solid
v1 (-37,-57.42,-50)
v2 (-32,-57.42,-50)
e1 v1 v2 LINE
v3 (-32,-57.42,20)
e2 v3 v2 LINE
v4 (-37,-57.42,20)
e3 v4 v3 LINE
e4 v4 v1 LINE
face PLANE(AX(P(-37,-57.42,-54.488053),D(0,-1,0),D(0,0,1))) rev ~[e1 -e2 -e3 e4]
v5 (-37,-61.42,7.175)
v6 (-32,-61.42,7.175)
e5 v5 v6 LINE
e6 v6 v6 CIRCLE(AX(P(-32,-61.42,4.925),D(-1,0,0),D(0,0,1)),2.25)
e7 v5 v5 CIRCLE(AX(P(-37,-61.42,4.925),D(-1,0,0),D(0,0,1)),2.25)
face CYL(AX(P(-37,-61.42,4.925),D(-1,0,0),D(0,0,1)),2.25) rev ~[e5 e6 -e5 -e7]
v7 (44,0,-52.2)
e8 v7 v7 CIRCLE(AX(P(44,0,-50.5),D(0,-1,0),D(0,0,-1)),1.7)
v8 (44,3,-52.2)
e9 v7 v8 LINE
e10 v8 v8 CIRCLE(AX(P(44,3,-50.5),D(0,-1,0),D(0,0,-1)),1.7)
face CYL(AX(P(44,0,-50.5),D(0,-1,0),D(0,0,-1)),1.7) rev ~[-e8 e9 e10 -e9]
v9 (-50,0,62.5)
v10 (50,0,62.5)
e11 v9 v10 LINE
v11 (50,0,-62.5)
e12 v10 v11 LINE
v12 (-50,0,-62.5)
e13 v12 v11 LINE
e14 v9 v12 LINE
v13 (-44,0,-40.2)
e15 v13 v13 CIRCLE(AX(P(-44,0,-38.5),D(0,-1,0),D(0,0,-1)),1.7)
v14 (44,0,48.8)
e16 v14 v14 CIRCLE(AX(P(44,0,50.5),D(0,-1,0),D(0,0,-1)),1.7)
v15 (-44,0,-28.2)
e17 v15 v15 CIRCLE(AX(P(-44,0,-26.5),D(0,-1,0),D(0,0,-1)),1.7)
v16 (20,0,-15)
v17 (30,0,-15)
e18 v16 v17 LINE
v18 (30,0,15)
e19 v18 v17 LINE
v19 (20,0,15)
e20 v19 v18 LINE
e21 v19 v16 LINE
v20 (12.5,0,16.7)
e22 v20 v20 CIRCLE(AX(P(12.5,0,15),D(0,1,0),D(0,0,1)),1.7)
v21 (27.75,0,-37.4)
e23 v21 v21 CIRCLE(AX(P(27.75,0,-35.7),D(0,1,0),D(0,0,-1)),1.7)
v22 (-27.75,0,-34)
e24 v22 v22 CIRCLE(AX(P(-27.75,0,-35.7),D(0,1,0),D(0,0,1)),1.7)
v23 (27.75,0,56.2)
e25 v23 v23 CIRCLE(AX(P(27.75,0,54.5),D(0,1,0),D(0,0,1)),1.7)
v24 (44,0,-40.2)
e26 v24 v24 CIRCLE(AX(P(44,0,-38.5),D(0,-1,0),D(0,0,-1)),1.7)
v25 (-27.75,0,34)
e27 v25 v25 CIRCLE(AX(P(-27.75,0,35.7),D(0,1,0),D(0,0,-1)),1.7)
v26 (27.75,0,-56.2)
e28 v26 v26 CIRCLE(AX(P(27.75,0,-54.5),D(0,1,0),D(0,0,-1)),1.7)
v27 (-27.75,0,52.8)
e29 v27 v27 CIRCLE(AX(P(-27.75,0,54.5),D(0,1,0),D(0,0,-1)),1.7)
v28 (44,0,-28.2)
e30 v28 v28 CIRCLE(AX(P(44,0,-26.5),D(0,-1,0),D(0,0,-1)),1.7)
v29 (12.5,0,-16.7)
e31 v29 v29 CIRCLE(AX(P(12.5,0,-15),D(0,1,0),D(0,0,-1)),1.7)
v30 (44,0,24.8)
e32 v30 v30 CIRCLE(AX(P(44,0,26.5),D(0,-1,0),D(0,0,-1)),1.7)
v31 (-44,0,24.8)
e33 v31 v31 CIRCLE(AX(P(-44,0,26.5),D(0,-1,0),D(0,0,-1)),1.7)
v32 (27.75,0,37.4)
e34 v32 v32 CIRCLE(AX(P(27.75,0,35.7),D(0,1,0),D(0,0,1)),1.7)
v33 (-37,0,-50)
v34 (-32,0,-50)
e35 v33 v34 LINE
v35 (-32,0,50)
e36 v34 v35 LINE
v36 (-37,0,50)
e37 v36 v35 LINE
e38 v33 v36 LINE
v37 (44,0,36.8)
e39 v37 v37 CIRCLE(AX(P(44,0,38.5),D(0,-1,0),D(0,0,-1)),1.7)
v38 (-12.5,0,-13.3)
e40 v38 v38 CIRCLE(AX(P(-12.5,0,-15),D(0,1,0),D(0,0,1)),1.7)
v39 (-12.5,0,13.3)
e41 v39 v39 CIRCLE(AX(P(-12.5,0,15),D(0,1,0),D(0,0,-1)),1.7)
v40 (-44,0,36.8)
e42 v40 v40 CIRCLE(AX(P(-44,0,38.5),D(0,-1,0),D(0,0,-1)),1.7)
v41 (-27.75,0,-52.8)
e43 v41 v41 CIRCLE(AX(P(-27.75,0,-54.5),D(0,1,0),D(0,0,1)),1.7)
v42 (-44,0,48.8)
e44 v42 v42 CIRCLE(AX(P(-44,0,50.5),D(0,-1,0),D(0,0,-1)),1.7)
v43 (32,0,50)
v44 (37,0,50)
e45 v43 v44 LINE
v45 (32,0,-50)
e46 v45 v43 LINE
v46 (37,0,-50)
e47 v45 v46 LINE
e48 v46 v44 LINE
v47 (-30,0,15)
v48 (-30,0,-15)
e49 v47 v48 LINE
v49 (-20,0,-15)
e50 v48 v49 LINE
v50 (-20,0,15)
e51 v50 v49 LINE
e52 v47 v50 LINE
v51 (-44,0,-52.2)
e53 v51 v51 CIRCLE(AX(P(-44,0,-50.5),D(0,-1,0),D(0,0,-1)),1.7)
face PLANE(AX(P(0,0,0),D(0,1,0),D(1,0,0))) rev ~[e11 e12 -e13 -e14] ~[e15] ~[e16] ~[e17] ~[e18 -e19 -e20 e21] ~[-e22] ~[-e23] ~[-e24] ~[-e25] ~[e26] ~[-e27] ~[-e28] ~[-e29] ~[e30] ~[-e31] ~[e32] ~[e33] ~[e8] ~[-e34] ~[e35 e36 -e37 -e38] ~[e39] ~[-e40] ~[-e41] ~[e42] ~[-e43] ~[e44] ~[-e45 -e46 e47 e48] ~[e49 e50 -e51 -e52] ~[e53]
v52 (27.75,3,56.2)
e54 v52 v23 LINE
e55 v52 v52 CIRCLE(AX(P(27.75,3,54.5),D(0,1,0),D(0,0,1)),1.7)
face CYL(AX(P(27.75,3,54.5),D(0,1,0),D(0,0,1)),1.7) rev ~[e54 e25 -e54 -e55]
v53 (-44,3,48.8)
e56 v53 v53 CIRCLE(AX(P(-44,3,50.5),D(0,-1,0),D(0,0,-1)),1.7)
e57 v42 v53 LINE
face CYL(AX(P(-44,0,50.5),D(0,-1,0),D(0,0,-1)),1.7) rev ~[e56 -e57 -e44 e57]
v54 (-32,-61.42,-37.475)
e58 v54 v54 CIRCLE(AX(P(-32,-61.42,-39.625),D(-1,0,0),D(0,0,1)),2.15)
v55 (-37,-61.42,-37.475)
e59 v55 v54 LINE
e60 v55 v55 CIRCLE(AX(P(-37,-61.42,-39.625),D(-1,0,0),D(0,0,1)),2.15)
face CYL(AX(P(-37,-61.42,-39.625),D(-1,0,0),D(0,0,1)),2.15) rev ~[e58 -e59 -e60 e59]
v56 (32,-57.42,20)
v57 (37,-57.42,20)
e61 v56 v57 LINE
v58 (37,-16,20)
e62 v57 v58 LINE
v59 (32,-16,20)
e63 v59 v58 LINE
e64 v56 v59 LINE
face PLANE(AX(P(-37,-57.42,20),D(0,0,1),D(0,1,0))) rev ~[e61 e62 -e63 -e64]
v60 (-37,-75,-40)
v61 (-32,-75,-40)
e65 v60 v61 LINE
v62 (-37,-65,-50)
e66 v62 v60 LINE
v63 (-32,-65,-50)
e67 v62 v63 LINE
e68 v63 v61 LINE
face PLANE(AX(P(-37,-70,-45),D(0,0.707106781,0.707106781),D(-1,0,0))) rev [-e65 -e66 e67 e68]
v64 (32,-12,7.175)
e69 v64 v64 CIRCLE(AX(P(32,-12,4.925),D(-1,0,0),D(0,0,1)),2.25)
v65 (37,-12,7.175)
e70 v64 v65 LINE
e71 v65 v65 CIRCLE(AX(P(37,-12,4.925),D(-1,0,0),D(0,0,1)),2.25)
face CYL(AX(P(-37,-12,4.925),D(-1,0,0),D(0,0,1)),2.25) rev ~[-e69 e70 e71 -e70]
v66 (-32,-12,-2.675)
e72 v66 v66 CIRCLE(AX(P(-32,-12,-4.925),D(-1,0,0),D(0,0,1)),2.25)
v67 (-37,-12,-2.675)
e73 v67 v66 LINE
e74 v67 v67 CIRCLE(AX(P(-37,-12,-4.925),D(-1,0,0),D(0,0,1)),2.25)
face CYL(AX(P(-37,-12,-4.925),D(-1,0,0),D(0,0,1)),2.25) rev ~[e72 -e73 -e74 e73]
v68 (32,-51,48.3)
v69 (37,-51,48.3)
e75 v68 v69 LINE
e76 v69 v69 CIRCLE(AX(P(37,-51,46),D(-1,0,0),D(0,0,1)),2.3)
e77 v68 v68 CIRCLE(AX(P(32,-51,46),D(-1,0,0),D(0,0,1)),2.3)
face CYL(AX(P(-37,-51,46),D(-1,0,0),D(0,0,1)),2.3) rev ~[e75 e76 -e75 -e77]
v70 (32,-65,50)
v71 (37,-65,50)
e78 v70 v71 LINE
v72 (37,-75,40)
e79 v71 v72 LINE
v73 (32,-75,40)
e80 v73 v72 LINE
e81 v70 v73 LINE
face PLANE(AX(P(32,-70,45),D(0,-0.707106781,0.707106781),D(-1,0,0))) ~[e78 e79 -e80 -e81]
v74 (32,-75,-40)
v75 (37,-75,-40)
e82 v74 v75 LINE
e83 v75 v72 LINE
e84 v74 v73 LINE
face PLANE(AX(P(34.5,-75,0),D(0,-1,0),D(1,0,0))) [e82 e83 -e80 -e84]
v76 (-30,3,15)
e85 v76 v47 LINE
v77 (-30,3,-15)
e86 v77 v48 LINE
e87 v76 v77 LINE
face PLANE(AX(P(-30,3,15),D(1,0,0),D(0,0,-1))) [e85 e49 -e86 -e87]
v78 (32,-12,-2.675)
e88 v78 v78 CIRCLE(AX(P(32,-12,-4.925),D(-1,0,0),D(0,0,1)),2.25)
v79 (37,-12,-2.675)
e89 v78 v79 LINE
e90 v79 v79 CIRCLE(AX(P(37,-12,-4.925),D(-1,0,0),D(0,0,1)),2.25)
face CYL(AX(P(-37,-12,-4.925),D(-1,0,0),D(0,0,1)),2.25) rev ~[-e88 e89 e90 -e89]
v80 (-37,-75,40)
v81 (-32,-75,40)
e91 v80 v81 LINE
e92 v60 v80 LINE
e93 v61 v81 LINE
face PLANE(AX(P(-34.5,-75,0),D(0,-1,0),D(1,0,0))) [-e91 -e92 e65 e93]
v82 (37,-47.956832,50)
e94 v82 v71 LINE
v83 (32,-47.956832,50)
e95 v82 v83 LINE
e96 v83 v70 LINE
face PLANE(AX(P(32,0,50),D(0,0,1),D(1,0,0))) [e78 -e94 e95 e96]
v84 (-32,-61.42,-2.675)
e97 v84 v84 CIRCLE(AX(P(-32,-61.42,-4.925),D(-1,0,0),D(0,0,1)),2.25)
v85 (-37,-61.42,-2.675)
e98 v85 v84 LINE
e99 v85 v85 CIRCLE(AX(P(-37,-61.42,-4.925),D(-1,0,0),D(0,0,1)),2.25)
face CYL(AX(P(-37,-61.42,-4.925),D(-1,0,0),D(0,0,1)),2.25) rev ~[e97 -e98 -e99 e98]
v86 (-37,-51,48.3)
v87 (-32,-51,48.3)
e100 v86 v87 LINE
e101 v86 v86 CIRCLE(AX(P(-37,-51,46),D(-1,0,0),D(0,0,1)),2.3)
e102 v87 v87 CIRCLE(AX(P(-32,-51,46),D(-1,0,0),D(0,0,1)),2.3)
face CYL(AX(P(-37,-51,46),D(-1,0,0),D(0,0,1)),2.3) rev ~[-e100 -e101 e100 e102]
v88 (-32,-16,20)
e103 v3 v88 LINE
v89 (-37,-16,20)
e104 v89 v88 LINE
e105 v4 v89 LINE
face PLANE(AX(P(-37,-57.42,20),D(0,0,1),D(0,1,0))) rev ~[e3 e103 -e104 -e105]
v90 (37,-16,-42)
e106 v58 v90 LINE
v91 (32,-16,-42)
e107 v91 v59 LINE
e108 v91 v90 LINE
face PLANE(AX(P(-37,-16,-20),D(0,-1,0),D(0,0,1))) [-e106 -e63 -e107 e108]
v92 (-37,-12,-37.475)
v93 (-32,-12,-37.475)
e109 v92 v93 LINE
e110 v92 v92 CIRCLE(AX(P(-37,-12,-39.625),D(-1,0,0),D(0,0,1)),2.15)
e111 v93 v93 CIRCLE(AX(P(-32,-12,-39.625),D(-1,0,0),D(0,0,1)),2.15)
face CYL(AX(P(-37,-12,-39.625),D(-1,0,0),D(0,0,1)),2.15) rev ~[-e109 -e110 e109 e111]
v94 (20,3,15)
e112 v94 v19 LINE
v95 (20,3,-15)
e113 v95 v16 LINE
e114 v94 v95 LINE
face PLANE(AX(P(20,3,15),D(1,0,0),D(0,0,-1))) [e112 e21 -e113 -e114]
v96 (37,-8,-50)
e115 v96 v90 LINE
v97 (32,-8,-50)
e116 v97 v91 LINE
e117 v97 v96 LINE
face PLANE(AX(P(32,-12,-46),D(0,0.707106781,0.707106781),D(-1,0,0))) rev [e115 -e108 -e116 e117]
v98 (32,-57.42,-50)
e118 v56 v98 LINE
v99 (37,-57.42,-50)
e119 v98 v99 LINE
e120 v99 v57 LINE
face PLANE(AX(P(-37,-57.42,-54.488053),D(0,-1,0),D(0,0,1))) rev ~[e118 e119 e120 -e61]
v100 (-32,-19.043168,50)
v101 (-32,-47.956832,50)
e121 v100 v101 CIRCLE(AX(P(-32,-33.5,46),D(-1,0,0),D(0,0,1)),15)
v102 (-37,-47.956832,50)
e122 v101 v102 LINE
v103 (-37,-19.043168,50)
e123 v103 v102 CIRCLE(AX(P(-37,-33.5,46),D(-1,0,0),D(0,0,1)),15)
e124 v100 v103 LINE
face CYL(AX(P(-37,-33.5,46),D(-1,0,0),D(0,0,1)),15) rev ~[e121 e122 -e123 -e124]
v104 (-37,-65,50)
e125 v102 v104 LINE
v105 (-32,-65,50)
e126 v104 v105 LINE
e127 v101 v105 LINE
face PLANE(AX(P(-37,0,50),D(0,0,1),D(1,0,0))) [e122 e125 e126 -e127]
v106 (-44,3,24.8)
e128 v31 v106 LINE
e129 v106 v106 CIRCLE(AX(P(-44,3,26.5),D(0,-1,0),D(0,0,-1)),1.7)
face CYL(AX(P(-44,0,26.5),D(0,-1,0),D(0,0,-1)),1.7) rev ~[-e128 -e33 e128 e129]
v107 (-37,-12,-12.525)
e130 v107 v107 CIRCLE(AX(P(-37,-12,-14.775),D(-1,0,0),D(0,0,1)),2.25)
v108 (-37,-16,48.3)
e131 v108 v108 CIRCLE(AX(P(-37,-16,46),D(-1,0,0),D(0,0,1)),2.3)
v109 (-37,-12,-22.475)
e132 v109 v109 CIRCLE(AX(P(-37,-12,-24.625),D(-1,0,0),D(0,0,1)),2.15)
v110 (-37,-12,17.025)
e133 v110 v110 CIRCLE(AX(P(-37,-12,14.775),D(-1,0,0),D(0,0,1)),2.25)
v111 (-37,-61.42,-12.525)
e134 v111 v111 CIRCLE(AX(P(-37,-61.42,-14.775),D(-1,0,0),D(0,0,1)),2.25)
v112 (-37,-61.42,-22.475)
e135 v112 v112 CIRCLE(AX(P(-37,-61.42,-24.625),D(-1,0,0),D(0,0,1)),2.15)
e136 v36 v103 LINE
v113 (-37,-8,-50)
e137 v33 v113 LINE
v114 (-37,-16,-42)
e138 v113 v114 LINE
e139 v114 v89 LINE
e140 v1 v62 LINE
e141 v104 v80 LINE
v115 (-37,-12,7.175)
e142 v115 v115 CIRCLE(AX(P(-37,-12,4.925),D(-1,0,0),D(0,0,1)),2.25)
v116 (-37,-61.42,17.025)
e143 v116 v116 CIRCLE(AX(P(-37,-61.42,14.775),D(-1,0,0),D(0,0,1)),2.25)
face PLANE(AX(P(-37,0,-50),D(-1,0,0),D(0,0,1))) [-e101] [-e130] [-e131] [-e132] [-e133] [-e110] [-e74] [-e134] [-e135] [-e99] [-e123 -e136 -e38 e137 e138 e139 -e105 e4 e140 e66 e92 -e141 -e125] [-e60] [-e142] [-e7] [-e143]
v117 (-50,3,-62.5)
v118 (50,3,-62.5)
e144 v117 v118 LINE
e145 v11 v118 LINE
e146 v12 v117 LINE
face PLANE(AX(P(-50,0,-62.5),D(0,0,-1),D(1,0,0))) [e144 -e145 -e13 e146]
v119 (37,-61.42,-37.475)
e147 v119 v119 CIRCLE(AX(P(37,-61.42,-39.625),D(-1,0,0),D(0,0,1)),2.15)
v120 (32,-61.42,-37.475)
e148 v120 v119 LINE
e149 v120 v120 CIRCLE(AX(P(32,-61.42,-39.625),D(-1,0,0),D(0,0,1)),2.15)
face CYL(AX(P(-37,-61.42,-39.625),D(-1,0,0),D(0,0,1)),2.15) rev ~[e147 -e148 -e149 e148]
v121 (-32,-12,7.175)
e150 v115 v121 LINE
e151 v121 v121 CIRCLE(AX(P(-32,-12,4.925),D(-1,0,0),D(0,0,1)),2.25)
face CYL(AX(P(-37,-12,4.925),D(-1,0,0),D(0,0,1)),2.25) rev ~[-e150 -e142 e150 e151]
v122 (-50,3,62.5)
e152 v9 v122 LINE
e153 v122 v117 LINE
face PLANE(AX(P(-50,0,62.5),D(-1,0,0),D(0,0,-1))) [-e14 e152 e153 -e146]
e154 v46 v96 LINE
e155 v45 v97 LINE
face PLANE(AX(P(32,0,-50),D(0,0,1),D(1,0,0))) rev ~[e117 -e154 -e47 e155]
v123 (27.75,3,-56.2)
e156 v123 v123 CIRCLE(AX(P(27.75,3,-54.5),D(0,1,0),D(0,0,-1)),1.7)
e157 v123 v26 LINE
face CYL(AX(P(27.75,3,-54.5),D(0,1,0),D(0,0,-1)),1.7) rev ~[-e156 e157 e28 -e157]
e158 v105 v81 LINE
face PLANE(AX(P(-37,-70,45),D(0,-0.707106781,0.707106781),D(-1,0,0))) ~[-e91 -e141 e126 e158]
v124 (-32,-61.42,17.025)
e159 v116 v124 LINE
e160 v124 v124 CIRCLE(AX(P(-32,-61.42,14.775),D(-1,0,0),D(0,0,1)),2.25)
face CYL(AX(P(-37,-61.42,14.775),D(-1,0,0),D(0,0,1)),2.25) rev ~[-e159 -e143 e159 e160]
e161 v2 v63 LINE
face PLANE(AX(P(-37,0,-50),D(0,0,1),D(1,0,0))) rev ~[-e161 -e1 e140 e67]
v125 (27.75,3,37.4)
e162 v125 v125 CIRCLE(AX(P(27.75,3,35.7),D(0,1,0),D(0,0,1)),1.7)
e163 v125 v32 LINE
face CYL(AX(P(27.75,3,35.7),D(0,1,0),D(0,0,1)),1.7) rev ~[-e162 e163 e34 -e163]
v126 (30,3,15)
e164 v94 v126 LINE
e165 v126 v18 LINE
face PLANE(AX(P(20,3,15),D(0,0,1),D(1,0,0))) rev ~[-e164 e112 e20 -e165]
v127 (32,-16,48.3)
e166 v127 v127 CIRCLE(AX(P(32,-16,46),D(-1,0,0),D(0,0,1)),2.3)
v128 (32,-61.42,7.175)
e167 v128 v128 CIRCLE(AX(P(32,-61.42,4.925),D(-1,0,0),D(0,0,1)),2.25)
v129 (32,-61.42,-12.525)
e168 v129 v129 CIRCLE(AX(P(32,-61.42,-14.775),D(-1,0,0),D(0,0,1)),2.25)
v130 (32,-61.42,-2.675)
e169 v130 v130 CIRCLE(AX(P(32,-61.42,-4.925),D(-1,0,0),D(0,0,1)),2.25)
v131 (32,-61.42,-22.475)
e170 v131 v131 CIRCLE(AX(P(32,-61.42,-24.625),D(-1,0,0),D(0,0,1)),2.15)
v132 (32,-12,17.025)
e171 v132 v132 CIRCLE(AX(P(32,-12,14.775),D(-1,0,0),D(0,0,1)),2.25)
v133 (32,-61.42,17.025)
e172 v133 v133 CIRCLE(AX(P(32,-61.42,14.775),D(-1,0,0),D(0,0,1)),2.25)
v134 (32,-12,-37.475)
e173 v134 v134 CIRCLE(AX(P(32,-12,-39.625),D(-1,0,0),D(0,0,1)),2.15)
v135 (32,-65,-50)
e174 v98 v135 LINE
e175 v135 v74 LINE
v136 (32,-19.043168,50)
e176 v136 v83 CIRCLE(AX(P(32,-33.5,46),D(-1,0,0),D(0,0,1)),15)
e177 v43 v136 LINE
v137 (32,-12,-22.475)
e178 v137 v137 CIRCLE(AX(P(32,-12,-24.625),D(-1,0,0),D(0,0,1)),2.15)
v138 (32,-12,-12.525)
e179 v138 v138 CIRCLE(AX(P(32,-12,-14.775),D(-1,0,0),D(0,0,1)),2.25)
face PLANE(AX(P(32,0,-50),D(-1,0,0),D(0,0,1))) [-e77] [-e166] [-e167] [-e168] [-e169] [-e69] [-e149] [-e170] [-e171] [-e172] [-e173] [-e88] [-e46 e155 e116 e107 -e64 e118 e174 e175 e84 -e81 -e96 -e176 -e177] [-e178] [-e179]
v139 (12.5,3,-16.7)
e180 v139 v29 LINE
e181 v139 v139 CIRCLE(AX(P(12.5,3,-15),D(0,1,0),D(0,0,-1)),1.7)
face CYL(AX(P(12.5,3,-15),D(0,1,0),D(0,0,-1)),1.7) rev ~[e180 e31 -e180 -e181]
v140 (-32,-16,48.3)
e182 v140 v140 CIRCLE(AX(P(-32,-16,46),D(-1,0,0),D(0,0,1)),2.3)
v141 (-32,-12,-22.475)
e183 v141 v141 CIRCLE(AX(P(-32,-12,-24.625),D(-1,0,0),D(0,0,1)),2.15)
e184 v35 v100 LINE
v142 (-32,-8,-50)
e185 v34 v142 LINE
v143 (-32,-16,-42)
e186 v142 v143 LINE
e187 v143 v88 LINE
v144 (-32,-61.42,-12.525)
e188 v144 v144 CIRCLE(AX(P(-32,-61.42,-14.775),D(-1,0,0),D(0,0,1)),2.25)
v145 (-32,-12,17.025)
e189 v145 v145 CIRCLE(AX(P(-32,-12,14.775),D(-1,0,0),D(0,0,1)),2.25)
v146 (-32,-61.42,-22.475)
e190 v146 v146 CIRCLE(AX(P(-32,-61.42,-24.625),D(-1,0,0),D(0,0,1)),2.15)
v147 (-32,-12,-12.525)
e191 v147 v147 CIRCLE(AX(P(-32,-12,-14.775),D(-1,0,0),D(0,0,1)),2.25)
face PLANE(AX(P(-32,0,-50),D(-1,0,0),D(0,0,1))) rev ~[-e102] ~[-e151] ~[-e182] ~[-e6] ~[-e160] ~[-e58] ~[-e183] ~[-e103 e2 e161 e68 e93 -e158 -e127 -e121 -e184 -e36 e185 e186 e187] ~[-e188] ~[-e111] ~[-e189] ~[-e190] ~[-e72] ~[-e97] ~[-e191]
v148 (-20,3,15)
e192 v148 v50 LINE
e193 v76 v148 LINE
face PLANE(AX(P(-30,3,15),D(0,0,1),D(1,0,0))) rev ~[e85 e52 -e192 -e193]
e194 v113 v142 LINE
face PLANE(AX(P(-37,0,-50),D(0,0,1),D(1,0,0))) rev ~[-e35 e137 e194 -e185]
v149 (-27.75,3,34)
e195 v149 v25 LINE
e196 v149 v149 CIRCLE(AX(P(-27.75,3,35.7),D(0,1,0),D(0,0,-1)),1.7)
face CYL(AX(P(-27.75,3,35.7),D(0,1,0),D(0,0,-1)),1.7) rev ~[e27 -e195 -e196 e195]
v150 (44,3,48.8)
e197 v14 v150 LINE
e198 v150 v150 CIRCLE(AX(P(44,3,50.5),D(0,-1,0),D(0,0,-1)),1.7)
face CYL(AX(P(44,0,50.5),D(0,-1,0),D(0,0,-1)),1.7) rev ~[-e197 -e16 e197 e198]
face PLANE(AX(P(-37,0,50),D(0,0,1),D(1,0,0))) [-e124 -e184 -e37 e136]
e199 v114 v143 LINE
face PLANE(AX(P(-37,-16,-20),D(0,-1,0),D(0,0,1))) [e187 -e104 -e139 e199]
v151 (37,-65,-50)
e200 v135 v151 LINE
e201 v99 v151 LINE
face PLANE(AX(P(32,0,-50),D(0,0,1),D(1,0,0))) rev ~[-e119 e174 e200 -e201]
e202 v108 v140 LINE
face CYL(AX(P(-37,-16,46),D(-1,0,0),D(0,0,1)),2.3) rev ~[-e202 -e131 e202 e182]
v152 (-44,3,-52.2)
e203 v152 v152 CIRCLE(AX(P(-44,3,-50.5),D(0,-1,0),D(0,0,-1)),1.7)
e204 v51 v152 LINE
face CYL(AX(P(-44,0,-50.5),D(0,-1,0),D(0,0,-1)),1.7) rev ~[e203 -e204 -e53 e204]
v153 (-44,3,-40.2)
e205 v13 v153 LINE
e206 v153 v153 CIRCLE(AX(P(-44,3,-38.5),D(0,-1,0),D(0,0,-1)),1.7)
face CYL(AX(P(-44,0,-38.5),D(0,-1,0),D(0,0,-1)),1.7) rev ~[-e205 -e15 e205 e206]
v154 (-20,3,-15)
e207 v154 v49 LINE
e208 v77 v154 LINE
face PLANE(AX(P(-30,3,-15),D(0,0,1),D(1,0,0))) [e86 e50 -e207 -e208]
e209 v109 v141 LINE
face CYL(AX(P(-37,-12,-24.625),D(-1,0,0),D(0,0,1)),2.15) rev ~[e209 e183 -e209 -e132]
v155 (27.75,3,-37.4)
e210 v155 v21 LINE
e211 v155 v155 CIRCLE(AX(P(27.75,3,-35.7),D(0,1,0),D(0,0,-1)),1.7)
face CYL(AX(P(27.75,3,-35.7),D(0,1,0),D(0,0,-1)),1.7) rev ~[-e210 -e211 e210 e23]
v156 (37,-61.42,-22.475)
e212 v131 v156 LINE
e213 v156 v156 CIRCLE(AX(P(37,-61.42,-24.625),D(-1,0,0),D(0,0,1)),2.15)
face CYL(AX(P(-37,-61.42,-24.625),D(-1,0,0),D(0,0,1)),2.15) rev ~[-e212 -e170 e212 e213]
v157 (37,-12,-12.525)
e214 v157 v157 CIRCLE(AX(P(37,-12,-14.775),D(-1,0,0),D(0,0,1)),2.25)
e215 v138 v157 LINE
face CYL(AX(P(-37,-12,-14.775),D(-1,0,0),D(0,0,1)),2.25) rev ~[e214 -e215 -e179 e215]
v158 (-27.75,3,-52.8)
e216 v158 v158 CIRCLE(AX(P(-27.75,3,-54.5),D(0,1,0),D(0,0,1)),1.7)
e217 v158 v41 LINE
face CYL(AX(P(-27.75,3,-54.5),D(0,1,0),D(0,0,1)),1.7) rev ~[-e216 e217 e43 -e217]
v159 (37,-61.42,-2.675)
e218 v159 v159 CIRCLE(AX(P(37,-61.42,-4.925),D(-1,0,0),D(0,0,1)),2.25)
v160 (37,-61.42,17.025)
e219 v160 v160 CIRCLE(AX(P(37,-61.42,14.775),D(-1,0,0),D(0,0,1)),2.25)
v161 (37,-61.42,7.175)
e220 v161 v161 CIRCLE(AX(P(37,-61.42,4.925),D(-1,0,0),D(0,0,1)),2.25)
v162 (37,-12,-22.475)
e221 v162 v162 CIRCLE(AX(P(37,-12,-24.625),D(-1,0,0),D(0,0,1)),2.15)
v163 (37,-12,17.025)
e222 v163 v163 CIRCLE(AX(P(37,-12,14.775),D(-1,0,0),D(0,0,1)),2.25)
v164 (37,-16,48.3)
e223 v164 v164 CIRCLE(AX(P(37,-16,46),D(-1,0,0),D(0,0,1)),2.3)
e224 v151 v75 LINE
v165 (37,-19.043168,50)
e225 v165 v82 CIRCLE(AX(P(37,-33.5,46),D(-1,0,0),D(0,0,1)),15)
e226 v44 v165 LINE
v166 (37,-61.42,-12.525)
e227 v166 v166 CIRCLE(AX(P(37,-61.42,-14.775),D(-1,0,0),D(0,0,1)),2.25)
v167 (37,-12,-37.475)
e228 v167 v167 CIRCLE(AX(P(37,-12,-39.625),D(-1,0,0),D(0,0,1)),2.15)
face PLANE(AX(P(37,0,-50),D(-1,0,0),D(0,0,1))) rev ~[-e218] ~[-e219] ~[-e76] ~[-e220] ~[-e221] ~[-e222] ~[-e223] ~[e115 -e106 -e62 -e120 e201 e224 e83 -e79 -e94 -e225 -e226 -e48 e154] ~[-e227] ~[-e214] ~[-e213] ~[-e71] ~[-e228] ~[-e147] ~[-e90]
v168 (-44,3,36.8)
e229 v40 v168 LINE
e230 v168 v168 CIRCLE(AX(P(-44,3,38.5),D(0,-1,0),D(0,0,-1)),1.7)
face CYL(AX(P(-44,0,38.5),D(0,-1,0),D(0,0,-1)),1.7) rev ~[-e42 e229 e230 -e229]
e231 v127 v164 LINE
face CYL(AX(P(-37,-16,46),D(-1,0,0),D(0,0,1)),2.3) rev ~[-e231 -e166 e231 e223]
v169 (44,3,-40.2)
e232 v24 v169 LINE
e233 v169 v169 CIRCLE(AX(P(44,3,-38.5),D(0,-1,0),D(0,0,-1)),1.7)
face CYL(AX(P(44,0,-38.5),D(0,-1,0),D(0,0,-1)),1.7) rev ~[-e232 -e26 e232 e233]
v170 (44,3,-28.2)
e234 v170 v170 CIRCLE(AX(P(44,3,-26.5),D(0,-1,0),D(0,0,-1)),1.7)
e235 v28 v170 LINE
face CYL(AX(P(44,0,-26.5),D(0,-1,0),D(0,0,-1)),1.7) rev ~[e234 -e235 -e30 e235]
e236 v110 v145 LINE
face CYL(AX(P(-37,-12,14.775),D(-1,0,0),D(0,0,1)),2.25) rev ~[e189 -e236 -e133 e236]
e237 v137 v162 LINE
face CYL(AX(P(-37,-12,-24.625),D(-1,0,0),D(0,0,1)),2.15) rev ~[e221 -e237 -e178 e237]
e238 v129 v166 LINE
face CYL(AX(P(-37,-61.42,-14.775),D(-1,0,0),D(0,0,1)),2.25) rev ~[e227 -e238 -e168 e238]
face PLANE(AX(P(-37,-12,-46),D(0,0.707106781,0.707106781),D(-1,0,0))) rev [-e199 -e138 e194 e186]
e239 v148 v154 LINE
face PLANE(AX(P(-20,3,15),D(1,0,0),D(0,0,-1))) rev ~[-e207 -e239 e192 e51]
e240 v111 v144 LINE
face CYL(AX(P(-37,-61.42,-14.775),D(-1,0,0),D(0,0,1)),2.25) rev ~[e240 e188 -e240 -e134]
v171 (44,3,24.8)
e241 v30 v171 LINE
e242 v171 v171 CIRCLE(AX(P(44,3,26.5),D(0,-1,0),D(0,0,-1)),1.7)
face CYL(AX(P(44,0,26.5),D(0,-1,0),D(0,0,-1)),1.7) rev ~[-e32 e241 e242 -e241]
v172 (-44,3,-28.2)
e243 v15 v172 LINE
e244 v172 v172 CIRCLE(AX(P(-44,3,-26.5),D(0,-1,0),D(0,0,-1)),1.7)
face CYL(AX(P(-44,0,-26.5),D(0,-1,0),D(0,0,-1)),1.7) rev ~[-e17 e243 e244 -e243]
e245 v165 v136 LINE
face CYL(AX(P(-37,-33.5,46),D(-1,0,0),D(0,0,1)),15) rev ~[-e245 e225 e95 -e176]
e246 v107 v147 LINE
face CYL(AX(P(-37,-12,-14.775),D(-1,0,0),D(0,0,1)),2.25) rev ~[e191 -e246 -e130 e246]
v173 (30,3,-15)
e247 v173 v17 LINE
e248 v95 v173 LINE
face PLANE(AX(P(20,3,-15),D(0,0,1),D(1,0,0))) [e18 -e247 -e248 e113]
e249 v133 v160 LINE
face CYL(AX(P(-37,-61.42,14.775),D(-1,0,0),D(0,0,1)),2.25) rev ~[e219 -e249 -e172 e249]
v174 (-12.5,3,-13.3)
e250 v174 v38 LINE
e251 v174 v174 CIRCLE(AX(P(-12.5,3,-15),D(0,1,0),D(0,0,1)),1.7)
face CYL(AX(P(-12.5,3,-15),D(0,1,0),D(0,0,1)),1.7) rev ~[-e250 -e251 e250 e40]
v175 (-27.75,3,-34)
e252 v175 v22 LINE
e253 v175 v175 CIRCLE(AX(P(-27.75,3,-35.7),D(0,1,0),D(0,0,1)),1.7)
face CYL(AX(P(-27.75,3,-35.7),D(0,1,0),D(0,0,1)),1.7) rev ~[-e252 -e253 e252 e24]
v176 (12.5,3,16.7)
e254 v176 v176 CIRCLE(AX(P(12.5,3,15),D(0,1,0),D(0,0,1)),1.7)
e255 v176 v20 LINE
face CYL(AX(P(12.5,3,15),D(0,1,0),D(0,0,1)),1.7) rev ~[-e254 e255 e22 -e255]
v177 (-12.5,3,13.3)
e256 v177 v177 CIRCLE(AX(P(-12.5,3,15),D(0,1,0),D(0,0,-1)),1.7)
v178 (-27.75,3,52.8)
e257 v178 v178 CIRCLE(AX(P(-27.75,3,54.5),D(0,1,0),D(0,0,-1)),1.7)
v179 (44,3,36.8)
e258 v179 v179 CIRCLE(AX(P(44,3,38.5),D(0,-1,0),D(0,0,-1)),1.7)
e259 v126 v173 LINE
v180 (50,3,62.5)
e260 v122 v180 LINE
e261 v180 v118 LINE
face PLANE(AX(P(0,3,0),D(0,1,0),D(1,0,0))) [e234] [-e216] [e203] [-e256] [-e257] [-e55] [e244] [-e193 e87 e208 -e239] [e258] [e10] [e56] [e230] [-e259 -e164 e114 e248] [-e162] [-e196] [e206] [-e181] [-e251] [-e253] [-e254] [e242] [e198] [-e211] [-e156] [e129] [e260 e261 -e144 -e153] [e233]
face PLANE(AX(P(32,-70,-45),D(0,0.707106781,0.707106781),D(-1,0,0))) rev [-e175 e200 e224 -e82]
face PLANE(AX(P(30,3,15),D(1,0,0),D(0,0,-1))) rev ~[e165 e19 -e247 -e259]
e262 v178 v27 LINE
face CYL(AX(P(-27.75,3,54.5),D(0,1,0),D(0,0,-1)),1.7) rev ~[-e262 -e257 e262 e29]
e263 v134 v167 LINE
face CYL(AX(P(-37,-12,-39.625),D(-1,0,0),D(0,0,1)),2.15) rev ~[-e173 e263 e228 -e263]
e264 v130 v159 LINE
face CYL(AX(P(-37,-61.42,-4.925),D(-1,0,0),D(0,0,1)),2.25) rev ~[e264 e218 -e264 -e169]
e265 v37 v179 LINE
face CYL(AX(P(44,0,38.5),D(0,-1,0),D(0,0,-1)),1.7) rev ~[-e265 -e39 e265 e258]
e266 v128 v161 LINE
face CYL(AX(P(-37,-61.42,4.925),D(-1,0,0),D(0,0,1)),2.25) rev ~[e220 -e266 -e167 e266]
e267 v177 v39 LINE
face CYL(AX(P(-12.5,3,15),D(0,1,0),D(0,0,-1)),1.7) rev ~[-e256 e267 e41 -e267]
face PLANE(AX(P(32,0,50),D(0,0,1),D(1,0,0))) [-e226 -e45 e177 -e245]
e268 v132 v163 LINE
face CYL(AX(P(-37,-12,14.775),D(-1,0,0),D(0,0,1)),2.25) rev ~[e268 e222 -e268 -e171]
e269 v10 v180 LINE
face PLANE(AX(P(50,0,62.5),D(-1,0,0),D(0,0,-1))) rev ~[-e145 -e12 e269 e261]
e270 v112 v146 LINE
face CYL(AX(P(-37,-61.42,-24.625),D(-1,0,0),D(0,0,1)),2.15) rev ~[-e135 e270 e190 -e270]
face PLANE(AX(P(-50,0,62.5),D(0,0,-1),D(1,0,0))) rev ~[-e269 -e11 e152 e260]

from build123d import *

# Parameters (mm, degrees)
SKETCH_1_W           = 100
SKETCH_1_H           = 125
EXTRUDE_1_DEPTH      = 3
SKETCH_2_W           = 5
SKETCH_2_H           = 100
EXTRUDE_2_DEPTH      = 75
SKETCH_3_R           = 2.25
CUT_EXTRUDE_1_DEPTH  = 85
SKETCH_4_W           = 40
SKETCH_4_H           = 41.42
CUT_EXTRUDE_2_DEPTH  = 85
CHAMFER_1_SIZE       = 10
SKETCH_5_W           = 10
SKETCH_5_H           = 30
CUT_EXTRUDE_3_DEPTH  = 85
SKETCH_11_R          = 1.7
CUT_EXTRUDE_5_DEPTH  = 10
SKETCH_12_R          = 1.7
CUT_EXTRUDE_6_DEPTH  = 25
SKETCH_13_R          = 2.3
SKETCH_13_R_2        = 15
CUT_EXTRUDE_9_DEPTH  = 105
SKETCH_14_W          = 15
SKETCH_14_H          = 41.42
CUT_EXTRUDE_10_DEPTH = 83
SKETCH_15_W          = 38.97610678
SKETCH_15_H          = 41.42
CUT_EXTRUDE_11_DEPTH = 83
SKETCH_16_R          = 1.7
CUT_EXTRUDE_12_DEPTH = 83
SKETCH_17_R          = 2.15
CUT_EXTRUDE_13_DEPTH = 83
CHAMFER_2_SIZE       = 8


with BuildPart() as part:
    # 草图1 → 凸台-拉伸1 (new body)
    with BuildSketch(Plane(origin=(0, 0, 0), x_dir=(1, 0, 0), z_dir=(0, 1, 0))):
        Rectangle(SKETCH_1_W, SKETCH_1_H)
    extrude(amount=EXTRUDE_1_DEPTH)

    # 草图2 → 凸台-拉伸2 (add)
    with BuildSketch(Plane.XZ):
        with Locations((-34.5, 0)):
            Rectangle(SKETCH_2_W, SKETCH_2_H)
        with Locations((34.5, 0)):
            Rectangle(SKETCH_2_W, SKETCH_2_H)
    extrude(amount=EXTRUDE_2_DEPTH)

    # 草图3 → 切除-拉伸1 (cut)
    with BuildSketch(Plane.ZY.offset(37)):
        with Locations((-4.925, -12)):
            Circle(SKETCH_3_R)
        with Locations((4.925, -12)):
            Circle(SKETCH_3_R)
        with Locations((-4.925, -61.42)):
            Circle(SKETCH_3_R)
        with Locations((4.925, -61.42)):
            Circle(SKETCH_3_R)
        with Locations((14.775, -12)):
            Circle(SKETCH_3_R)
        with Locations((14.775, -61.42)):
            Circle(SKETCH_3_R)
        with Locations((-14.775, -61.42)):
            Circle(SKETCH_3_R)
        with Locations((-14.775, -12)):
            Circle(SKETCH_3_R)
    extrude(amount=-CUT_EXTRUDE_1_DEPTH, mode=Mode.SUBTRACT)

    # 草图4 → 切除-拉伸2 (cut)
    with BuildSketch(Plane.ZY.offset(37)):
        with Locations((0, -36.71)):
            Rectangle(SKETCH_4_W, SKETCH_4_H)
    extrude(amount=-CUT_EXTRUDE_2_DEPTH, mode=Mode.SUBTRACT)

    # 倒角1
    chamfer_1_edges = [part.edges().sort_by_distance(p)[0] for p in [
        (-34.5, -75, 50),
        (-34.5, -75, -50),
        (34.5, -75, 50),
        (34.5, -75, -50),
    ]]
    chamfer(chamfer_1_edges, length=CHAMFER_1_SIZE)

    # 草图5 → 切除-拉伸3 (cut)
    with BuildSketch(Plane(origin=(0, 3, 0), x_dir=(1, 0, 0), z_dir=(0, 1, 0))):
        with Locations((-25, 0)):
            Rectangle(SKETCH_5_W, SKETCH_5_H)
        with Locations((25, 0)):
            Rectangle(SKETCH_5_W, SKETCH_5_H)
    extrude(amount=-CUT_EXTRUDE_3_DEPTH, mode=Mode.SUBTRACT)

    # 草图11 → 切除-拉伸5 (cut)
    with BuildSketch(Plane.XZ):
        with Locations(Location((-44, 50.5, 0), (0, 0, 270))):
            Circle(SKETCH_11_R)
        with Locations(Location((-44, 38.5, 0), (0, 0, 270))):
            Circle(SKETCH_11_R)
        with Locations(Location((-44, 26.5, 0), (0, 0, 270))):
            Circle(SKETCH_11_R)
        with Locations(Location((44, 26.5, 0), (0, 0, 270))):
            Circle(SKETCH_11_R)
        with Locations(Location((44, 38.5, 0), (0, 0, 270))):
            Circle(SKETCH_11_R)
        with Locations(Location((44, 50.5, 0), (0, 0, 270))):
            Circle(SKETCH_11_R)
        with Locations(Location((44, -50.5, 0), (0, 0, 270))):
            Circle(SKETCH_11_R)
        with Locations(Location((44, -38.5, 0), (0, 0, 270))):
            Circle(SKETCH_11_R)
        with Locations(Location((44, -26.5, 0), (0, 0, 270))):
            Circle(SKETCH_11_R)
        with Locations(Location((-44, -26.5, 0), (0, 0, 270))):
            Circle(SKETCH_11_R)
        with Locations(Location((-44, -38.5, 0), (0, 0, 270))):
            Circle(SKETCH_11_R)
        with Locations(Location((-44, -50.5, 0), (0, 0, 270))):
            Circle(SKETCH_11_R)
    extrude(amount=-CUT_EXTRUDE_5_DEPTH, mode=Mode.SUBTRACT)

    # 草图12 → 切除-拉伸6 (cut)
    with BuildSketch(Plane(origin=(0, 3, 0), x_dir=(1, 0, 0), z_dir=(0, 1, 0))):
        with Locations(Location((-27.75, 54.5, 0), (0, 0, 270))):
            Circle(SKETCH_12_R)
        with Locations(Location((-27.75, 35.7, 0), (0, 0, 270))):
            Circle(SKETCH_12_R)
        with Locations(Location((27.75, 35.7, 0), (0, 0, 90))):
            Circle(SKETCH_12_R)
        with Locations(Location((27.75, 54.5, 0), (0, 0, 90))):
            Circle(SKETCH_12_R)
        with Locations(Location((27.75, -54.5, 0), (0, 0, 270))):
            Circle(SKETCH_12_R)
        with Locations(Location((27.75, -35.7, 0), (0, 0, 270))):
            Circle(SKETCH_12_R)
        with Locations(Location((-27.75, -35.7, 0), (0, 0, 90))):
            Circle(SKETCH_12_R)
        with Locations(Location((-27.75, -54.5, 0), (0, 0, 90))):
            Circle(SKETCH_12_R)
    extrude(amount=-CUT_EXTRUDE_6_DEPTH, mode=Mode.SUBTRACT)

    # 草图13 → 切除-拉伸9 (cut)
    with BuildSketch(Plane.ZY.offset(37)):
        with Locations((46, -16)):
            Circle(SKETCH_13_R)
        with Locations((46, -51)):
            Circle(SKETCH_13_R)
        with Locations((46, -33.5)):
            Circle(SKETCH_13_R_2)
    extrude(amount=-CUT_EXTRUDE_9_DEPTH, mode=Mode.SUBTRACT)

    # 草图14 → 切除-拉伸10 (cut)
    with BuildSketch(Plane.ZY.offset(37)):
        with Locations((-27.5, -36.71)):
            Rectangle(SKETCH_14_W, SKETCH_14_H)
    extrude(amount=-CUT_EXTRUDE_10_DEPTH, mode=Mode.SUBTRACT)

    # 草图15 → 切除-拉伸11 (cut)
    with BuildSketch(Plane.ZY.offset(37)):
        with Locations((-35, -36.71)):
            Rectangle(SKETCH_15_W, SKETCH_15_H)
    extrude(amount=-CUT_EXTRUDE_11_DEPTH, mode=Mode.SUBTRACT)

    # 草图16 → 切除-拉伸12 (cut)
    with BuildSketch(Plane(origin=(0, 3, 0), x_dir=(1, 0, 0), z_dir=(0, 1, 0))):
        with Locations(Location((-12.5, 15, 0), (0, 0, 270))):
            Circle(SKETCH_16_R)
        with Locations(Location((12.5, 15, 0), (0, 0, 90))):
            Circle(SKETCH_16_R)
        with Locations(Location((12.5, -15, 0), (0, 0, 270))):
            Circle(SKETCH_16_R)
        with Locations(Location((-12.5, -15, 0), (0, 0, 90))):
            Circle(SKETCH_16_R)
    extrude(amount=-CUT_EXTRUDE_12_DEPTH, mode=Mode.SUBTRACT)

    # 草图17 → 切除-拉伸13 (cut)
    with BuildSketch(Plane.ZY.offset(37)):
        with Locations((-24.625, -12)):
            Circle(SKETCH_17_R)
        with Locations((-24.625, -61.42)):
            Circle(SKETCH_17_R)
        with Locations((-39.625, -12)):
            Circle(SKETCH_17_R)
        with Locations((-39.625, -61.42)):
            Circle(SKETCH_17_R)
    extrude(amount=-CUT_EXTRUDE_13_DEPTH, mode=Mode.SUBTRACT)

    # 倒角2
    chamfer_2_edges = [part.edges().sort_by_distance(p)[0] for p in [
        (34.5, -16, -50),
        (-34.5, -16, -50),
    ]]
    chamfer(chamfer_2_edges, length=CHAMFER_2_SIZE)


solid = part.part
